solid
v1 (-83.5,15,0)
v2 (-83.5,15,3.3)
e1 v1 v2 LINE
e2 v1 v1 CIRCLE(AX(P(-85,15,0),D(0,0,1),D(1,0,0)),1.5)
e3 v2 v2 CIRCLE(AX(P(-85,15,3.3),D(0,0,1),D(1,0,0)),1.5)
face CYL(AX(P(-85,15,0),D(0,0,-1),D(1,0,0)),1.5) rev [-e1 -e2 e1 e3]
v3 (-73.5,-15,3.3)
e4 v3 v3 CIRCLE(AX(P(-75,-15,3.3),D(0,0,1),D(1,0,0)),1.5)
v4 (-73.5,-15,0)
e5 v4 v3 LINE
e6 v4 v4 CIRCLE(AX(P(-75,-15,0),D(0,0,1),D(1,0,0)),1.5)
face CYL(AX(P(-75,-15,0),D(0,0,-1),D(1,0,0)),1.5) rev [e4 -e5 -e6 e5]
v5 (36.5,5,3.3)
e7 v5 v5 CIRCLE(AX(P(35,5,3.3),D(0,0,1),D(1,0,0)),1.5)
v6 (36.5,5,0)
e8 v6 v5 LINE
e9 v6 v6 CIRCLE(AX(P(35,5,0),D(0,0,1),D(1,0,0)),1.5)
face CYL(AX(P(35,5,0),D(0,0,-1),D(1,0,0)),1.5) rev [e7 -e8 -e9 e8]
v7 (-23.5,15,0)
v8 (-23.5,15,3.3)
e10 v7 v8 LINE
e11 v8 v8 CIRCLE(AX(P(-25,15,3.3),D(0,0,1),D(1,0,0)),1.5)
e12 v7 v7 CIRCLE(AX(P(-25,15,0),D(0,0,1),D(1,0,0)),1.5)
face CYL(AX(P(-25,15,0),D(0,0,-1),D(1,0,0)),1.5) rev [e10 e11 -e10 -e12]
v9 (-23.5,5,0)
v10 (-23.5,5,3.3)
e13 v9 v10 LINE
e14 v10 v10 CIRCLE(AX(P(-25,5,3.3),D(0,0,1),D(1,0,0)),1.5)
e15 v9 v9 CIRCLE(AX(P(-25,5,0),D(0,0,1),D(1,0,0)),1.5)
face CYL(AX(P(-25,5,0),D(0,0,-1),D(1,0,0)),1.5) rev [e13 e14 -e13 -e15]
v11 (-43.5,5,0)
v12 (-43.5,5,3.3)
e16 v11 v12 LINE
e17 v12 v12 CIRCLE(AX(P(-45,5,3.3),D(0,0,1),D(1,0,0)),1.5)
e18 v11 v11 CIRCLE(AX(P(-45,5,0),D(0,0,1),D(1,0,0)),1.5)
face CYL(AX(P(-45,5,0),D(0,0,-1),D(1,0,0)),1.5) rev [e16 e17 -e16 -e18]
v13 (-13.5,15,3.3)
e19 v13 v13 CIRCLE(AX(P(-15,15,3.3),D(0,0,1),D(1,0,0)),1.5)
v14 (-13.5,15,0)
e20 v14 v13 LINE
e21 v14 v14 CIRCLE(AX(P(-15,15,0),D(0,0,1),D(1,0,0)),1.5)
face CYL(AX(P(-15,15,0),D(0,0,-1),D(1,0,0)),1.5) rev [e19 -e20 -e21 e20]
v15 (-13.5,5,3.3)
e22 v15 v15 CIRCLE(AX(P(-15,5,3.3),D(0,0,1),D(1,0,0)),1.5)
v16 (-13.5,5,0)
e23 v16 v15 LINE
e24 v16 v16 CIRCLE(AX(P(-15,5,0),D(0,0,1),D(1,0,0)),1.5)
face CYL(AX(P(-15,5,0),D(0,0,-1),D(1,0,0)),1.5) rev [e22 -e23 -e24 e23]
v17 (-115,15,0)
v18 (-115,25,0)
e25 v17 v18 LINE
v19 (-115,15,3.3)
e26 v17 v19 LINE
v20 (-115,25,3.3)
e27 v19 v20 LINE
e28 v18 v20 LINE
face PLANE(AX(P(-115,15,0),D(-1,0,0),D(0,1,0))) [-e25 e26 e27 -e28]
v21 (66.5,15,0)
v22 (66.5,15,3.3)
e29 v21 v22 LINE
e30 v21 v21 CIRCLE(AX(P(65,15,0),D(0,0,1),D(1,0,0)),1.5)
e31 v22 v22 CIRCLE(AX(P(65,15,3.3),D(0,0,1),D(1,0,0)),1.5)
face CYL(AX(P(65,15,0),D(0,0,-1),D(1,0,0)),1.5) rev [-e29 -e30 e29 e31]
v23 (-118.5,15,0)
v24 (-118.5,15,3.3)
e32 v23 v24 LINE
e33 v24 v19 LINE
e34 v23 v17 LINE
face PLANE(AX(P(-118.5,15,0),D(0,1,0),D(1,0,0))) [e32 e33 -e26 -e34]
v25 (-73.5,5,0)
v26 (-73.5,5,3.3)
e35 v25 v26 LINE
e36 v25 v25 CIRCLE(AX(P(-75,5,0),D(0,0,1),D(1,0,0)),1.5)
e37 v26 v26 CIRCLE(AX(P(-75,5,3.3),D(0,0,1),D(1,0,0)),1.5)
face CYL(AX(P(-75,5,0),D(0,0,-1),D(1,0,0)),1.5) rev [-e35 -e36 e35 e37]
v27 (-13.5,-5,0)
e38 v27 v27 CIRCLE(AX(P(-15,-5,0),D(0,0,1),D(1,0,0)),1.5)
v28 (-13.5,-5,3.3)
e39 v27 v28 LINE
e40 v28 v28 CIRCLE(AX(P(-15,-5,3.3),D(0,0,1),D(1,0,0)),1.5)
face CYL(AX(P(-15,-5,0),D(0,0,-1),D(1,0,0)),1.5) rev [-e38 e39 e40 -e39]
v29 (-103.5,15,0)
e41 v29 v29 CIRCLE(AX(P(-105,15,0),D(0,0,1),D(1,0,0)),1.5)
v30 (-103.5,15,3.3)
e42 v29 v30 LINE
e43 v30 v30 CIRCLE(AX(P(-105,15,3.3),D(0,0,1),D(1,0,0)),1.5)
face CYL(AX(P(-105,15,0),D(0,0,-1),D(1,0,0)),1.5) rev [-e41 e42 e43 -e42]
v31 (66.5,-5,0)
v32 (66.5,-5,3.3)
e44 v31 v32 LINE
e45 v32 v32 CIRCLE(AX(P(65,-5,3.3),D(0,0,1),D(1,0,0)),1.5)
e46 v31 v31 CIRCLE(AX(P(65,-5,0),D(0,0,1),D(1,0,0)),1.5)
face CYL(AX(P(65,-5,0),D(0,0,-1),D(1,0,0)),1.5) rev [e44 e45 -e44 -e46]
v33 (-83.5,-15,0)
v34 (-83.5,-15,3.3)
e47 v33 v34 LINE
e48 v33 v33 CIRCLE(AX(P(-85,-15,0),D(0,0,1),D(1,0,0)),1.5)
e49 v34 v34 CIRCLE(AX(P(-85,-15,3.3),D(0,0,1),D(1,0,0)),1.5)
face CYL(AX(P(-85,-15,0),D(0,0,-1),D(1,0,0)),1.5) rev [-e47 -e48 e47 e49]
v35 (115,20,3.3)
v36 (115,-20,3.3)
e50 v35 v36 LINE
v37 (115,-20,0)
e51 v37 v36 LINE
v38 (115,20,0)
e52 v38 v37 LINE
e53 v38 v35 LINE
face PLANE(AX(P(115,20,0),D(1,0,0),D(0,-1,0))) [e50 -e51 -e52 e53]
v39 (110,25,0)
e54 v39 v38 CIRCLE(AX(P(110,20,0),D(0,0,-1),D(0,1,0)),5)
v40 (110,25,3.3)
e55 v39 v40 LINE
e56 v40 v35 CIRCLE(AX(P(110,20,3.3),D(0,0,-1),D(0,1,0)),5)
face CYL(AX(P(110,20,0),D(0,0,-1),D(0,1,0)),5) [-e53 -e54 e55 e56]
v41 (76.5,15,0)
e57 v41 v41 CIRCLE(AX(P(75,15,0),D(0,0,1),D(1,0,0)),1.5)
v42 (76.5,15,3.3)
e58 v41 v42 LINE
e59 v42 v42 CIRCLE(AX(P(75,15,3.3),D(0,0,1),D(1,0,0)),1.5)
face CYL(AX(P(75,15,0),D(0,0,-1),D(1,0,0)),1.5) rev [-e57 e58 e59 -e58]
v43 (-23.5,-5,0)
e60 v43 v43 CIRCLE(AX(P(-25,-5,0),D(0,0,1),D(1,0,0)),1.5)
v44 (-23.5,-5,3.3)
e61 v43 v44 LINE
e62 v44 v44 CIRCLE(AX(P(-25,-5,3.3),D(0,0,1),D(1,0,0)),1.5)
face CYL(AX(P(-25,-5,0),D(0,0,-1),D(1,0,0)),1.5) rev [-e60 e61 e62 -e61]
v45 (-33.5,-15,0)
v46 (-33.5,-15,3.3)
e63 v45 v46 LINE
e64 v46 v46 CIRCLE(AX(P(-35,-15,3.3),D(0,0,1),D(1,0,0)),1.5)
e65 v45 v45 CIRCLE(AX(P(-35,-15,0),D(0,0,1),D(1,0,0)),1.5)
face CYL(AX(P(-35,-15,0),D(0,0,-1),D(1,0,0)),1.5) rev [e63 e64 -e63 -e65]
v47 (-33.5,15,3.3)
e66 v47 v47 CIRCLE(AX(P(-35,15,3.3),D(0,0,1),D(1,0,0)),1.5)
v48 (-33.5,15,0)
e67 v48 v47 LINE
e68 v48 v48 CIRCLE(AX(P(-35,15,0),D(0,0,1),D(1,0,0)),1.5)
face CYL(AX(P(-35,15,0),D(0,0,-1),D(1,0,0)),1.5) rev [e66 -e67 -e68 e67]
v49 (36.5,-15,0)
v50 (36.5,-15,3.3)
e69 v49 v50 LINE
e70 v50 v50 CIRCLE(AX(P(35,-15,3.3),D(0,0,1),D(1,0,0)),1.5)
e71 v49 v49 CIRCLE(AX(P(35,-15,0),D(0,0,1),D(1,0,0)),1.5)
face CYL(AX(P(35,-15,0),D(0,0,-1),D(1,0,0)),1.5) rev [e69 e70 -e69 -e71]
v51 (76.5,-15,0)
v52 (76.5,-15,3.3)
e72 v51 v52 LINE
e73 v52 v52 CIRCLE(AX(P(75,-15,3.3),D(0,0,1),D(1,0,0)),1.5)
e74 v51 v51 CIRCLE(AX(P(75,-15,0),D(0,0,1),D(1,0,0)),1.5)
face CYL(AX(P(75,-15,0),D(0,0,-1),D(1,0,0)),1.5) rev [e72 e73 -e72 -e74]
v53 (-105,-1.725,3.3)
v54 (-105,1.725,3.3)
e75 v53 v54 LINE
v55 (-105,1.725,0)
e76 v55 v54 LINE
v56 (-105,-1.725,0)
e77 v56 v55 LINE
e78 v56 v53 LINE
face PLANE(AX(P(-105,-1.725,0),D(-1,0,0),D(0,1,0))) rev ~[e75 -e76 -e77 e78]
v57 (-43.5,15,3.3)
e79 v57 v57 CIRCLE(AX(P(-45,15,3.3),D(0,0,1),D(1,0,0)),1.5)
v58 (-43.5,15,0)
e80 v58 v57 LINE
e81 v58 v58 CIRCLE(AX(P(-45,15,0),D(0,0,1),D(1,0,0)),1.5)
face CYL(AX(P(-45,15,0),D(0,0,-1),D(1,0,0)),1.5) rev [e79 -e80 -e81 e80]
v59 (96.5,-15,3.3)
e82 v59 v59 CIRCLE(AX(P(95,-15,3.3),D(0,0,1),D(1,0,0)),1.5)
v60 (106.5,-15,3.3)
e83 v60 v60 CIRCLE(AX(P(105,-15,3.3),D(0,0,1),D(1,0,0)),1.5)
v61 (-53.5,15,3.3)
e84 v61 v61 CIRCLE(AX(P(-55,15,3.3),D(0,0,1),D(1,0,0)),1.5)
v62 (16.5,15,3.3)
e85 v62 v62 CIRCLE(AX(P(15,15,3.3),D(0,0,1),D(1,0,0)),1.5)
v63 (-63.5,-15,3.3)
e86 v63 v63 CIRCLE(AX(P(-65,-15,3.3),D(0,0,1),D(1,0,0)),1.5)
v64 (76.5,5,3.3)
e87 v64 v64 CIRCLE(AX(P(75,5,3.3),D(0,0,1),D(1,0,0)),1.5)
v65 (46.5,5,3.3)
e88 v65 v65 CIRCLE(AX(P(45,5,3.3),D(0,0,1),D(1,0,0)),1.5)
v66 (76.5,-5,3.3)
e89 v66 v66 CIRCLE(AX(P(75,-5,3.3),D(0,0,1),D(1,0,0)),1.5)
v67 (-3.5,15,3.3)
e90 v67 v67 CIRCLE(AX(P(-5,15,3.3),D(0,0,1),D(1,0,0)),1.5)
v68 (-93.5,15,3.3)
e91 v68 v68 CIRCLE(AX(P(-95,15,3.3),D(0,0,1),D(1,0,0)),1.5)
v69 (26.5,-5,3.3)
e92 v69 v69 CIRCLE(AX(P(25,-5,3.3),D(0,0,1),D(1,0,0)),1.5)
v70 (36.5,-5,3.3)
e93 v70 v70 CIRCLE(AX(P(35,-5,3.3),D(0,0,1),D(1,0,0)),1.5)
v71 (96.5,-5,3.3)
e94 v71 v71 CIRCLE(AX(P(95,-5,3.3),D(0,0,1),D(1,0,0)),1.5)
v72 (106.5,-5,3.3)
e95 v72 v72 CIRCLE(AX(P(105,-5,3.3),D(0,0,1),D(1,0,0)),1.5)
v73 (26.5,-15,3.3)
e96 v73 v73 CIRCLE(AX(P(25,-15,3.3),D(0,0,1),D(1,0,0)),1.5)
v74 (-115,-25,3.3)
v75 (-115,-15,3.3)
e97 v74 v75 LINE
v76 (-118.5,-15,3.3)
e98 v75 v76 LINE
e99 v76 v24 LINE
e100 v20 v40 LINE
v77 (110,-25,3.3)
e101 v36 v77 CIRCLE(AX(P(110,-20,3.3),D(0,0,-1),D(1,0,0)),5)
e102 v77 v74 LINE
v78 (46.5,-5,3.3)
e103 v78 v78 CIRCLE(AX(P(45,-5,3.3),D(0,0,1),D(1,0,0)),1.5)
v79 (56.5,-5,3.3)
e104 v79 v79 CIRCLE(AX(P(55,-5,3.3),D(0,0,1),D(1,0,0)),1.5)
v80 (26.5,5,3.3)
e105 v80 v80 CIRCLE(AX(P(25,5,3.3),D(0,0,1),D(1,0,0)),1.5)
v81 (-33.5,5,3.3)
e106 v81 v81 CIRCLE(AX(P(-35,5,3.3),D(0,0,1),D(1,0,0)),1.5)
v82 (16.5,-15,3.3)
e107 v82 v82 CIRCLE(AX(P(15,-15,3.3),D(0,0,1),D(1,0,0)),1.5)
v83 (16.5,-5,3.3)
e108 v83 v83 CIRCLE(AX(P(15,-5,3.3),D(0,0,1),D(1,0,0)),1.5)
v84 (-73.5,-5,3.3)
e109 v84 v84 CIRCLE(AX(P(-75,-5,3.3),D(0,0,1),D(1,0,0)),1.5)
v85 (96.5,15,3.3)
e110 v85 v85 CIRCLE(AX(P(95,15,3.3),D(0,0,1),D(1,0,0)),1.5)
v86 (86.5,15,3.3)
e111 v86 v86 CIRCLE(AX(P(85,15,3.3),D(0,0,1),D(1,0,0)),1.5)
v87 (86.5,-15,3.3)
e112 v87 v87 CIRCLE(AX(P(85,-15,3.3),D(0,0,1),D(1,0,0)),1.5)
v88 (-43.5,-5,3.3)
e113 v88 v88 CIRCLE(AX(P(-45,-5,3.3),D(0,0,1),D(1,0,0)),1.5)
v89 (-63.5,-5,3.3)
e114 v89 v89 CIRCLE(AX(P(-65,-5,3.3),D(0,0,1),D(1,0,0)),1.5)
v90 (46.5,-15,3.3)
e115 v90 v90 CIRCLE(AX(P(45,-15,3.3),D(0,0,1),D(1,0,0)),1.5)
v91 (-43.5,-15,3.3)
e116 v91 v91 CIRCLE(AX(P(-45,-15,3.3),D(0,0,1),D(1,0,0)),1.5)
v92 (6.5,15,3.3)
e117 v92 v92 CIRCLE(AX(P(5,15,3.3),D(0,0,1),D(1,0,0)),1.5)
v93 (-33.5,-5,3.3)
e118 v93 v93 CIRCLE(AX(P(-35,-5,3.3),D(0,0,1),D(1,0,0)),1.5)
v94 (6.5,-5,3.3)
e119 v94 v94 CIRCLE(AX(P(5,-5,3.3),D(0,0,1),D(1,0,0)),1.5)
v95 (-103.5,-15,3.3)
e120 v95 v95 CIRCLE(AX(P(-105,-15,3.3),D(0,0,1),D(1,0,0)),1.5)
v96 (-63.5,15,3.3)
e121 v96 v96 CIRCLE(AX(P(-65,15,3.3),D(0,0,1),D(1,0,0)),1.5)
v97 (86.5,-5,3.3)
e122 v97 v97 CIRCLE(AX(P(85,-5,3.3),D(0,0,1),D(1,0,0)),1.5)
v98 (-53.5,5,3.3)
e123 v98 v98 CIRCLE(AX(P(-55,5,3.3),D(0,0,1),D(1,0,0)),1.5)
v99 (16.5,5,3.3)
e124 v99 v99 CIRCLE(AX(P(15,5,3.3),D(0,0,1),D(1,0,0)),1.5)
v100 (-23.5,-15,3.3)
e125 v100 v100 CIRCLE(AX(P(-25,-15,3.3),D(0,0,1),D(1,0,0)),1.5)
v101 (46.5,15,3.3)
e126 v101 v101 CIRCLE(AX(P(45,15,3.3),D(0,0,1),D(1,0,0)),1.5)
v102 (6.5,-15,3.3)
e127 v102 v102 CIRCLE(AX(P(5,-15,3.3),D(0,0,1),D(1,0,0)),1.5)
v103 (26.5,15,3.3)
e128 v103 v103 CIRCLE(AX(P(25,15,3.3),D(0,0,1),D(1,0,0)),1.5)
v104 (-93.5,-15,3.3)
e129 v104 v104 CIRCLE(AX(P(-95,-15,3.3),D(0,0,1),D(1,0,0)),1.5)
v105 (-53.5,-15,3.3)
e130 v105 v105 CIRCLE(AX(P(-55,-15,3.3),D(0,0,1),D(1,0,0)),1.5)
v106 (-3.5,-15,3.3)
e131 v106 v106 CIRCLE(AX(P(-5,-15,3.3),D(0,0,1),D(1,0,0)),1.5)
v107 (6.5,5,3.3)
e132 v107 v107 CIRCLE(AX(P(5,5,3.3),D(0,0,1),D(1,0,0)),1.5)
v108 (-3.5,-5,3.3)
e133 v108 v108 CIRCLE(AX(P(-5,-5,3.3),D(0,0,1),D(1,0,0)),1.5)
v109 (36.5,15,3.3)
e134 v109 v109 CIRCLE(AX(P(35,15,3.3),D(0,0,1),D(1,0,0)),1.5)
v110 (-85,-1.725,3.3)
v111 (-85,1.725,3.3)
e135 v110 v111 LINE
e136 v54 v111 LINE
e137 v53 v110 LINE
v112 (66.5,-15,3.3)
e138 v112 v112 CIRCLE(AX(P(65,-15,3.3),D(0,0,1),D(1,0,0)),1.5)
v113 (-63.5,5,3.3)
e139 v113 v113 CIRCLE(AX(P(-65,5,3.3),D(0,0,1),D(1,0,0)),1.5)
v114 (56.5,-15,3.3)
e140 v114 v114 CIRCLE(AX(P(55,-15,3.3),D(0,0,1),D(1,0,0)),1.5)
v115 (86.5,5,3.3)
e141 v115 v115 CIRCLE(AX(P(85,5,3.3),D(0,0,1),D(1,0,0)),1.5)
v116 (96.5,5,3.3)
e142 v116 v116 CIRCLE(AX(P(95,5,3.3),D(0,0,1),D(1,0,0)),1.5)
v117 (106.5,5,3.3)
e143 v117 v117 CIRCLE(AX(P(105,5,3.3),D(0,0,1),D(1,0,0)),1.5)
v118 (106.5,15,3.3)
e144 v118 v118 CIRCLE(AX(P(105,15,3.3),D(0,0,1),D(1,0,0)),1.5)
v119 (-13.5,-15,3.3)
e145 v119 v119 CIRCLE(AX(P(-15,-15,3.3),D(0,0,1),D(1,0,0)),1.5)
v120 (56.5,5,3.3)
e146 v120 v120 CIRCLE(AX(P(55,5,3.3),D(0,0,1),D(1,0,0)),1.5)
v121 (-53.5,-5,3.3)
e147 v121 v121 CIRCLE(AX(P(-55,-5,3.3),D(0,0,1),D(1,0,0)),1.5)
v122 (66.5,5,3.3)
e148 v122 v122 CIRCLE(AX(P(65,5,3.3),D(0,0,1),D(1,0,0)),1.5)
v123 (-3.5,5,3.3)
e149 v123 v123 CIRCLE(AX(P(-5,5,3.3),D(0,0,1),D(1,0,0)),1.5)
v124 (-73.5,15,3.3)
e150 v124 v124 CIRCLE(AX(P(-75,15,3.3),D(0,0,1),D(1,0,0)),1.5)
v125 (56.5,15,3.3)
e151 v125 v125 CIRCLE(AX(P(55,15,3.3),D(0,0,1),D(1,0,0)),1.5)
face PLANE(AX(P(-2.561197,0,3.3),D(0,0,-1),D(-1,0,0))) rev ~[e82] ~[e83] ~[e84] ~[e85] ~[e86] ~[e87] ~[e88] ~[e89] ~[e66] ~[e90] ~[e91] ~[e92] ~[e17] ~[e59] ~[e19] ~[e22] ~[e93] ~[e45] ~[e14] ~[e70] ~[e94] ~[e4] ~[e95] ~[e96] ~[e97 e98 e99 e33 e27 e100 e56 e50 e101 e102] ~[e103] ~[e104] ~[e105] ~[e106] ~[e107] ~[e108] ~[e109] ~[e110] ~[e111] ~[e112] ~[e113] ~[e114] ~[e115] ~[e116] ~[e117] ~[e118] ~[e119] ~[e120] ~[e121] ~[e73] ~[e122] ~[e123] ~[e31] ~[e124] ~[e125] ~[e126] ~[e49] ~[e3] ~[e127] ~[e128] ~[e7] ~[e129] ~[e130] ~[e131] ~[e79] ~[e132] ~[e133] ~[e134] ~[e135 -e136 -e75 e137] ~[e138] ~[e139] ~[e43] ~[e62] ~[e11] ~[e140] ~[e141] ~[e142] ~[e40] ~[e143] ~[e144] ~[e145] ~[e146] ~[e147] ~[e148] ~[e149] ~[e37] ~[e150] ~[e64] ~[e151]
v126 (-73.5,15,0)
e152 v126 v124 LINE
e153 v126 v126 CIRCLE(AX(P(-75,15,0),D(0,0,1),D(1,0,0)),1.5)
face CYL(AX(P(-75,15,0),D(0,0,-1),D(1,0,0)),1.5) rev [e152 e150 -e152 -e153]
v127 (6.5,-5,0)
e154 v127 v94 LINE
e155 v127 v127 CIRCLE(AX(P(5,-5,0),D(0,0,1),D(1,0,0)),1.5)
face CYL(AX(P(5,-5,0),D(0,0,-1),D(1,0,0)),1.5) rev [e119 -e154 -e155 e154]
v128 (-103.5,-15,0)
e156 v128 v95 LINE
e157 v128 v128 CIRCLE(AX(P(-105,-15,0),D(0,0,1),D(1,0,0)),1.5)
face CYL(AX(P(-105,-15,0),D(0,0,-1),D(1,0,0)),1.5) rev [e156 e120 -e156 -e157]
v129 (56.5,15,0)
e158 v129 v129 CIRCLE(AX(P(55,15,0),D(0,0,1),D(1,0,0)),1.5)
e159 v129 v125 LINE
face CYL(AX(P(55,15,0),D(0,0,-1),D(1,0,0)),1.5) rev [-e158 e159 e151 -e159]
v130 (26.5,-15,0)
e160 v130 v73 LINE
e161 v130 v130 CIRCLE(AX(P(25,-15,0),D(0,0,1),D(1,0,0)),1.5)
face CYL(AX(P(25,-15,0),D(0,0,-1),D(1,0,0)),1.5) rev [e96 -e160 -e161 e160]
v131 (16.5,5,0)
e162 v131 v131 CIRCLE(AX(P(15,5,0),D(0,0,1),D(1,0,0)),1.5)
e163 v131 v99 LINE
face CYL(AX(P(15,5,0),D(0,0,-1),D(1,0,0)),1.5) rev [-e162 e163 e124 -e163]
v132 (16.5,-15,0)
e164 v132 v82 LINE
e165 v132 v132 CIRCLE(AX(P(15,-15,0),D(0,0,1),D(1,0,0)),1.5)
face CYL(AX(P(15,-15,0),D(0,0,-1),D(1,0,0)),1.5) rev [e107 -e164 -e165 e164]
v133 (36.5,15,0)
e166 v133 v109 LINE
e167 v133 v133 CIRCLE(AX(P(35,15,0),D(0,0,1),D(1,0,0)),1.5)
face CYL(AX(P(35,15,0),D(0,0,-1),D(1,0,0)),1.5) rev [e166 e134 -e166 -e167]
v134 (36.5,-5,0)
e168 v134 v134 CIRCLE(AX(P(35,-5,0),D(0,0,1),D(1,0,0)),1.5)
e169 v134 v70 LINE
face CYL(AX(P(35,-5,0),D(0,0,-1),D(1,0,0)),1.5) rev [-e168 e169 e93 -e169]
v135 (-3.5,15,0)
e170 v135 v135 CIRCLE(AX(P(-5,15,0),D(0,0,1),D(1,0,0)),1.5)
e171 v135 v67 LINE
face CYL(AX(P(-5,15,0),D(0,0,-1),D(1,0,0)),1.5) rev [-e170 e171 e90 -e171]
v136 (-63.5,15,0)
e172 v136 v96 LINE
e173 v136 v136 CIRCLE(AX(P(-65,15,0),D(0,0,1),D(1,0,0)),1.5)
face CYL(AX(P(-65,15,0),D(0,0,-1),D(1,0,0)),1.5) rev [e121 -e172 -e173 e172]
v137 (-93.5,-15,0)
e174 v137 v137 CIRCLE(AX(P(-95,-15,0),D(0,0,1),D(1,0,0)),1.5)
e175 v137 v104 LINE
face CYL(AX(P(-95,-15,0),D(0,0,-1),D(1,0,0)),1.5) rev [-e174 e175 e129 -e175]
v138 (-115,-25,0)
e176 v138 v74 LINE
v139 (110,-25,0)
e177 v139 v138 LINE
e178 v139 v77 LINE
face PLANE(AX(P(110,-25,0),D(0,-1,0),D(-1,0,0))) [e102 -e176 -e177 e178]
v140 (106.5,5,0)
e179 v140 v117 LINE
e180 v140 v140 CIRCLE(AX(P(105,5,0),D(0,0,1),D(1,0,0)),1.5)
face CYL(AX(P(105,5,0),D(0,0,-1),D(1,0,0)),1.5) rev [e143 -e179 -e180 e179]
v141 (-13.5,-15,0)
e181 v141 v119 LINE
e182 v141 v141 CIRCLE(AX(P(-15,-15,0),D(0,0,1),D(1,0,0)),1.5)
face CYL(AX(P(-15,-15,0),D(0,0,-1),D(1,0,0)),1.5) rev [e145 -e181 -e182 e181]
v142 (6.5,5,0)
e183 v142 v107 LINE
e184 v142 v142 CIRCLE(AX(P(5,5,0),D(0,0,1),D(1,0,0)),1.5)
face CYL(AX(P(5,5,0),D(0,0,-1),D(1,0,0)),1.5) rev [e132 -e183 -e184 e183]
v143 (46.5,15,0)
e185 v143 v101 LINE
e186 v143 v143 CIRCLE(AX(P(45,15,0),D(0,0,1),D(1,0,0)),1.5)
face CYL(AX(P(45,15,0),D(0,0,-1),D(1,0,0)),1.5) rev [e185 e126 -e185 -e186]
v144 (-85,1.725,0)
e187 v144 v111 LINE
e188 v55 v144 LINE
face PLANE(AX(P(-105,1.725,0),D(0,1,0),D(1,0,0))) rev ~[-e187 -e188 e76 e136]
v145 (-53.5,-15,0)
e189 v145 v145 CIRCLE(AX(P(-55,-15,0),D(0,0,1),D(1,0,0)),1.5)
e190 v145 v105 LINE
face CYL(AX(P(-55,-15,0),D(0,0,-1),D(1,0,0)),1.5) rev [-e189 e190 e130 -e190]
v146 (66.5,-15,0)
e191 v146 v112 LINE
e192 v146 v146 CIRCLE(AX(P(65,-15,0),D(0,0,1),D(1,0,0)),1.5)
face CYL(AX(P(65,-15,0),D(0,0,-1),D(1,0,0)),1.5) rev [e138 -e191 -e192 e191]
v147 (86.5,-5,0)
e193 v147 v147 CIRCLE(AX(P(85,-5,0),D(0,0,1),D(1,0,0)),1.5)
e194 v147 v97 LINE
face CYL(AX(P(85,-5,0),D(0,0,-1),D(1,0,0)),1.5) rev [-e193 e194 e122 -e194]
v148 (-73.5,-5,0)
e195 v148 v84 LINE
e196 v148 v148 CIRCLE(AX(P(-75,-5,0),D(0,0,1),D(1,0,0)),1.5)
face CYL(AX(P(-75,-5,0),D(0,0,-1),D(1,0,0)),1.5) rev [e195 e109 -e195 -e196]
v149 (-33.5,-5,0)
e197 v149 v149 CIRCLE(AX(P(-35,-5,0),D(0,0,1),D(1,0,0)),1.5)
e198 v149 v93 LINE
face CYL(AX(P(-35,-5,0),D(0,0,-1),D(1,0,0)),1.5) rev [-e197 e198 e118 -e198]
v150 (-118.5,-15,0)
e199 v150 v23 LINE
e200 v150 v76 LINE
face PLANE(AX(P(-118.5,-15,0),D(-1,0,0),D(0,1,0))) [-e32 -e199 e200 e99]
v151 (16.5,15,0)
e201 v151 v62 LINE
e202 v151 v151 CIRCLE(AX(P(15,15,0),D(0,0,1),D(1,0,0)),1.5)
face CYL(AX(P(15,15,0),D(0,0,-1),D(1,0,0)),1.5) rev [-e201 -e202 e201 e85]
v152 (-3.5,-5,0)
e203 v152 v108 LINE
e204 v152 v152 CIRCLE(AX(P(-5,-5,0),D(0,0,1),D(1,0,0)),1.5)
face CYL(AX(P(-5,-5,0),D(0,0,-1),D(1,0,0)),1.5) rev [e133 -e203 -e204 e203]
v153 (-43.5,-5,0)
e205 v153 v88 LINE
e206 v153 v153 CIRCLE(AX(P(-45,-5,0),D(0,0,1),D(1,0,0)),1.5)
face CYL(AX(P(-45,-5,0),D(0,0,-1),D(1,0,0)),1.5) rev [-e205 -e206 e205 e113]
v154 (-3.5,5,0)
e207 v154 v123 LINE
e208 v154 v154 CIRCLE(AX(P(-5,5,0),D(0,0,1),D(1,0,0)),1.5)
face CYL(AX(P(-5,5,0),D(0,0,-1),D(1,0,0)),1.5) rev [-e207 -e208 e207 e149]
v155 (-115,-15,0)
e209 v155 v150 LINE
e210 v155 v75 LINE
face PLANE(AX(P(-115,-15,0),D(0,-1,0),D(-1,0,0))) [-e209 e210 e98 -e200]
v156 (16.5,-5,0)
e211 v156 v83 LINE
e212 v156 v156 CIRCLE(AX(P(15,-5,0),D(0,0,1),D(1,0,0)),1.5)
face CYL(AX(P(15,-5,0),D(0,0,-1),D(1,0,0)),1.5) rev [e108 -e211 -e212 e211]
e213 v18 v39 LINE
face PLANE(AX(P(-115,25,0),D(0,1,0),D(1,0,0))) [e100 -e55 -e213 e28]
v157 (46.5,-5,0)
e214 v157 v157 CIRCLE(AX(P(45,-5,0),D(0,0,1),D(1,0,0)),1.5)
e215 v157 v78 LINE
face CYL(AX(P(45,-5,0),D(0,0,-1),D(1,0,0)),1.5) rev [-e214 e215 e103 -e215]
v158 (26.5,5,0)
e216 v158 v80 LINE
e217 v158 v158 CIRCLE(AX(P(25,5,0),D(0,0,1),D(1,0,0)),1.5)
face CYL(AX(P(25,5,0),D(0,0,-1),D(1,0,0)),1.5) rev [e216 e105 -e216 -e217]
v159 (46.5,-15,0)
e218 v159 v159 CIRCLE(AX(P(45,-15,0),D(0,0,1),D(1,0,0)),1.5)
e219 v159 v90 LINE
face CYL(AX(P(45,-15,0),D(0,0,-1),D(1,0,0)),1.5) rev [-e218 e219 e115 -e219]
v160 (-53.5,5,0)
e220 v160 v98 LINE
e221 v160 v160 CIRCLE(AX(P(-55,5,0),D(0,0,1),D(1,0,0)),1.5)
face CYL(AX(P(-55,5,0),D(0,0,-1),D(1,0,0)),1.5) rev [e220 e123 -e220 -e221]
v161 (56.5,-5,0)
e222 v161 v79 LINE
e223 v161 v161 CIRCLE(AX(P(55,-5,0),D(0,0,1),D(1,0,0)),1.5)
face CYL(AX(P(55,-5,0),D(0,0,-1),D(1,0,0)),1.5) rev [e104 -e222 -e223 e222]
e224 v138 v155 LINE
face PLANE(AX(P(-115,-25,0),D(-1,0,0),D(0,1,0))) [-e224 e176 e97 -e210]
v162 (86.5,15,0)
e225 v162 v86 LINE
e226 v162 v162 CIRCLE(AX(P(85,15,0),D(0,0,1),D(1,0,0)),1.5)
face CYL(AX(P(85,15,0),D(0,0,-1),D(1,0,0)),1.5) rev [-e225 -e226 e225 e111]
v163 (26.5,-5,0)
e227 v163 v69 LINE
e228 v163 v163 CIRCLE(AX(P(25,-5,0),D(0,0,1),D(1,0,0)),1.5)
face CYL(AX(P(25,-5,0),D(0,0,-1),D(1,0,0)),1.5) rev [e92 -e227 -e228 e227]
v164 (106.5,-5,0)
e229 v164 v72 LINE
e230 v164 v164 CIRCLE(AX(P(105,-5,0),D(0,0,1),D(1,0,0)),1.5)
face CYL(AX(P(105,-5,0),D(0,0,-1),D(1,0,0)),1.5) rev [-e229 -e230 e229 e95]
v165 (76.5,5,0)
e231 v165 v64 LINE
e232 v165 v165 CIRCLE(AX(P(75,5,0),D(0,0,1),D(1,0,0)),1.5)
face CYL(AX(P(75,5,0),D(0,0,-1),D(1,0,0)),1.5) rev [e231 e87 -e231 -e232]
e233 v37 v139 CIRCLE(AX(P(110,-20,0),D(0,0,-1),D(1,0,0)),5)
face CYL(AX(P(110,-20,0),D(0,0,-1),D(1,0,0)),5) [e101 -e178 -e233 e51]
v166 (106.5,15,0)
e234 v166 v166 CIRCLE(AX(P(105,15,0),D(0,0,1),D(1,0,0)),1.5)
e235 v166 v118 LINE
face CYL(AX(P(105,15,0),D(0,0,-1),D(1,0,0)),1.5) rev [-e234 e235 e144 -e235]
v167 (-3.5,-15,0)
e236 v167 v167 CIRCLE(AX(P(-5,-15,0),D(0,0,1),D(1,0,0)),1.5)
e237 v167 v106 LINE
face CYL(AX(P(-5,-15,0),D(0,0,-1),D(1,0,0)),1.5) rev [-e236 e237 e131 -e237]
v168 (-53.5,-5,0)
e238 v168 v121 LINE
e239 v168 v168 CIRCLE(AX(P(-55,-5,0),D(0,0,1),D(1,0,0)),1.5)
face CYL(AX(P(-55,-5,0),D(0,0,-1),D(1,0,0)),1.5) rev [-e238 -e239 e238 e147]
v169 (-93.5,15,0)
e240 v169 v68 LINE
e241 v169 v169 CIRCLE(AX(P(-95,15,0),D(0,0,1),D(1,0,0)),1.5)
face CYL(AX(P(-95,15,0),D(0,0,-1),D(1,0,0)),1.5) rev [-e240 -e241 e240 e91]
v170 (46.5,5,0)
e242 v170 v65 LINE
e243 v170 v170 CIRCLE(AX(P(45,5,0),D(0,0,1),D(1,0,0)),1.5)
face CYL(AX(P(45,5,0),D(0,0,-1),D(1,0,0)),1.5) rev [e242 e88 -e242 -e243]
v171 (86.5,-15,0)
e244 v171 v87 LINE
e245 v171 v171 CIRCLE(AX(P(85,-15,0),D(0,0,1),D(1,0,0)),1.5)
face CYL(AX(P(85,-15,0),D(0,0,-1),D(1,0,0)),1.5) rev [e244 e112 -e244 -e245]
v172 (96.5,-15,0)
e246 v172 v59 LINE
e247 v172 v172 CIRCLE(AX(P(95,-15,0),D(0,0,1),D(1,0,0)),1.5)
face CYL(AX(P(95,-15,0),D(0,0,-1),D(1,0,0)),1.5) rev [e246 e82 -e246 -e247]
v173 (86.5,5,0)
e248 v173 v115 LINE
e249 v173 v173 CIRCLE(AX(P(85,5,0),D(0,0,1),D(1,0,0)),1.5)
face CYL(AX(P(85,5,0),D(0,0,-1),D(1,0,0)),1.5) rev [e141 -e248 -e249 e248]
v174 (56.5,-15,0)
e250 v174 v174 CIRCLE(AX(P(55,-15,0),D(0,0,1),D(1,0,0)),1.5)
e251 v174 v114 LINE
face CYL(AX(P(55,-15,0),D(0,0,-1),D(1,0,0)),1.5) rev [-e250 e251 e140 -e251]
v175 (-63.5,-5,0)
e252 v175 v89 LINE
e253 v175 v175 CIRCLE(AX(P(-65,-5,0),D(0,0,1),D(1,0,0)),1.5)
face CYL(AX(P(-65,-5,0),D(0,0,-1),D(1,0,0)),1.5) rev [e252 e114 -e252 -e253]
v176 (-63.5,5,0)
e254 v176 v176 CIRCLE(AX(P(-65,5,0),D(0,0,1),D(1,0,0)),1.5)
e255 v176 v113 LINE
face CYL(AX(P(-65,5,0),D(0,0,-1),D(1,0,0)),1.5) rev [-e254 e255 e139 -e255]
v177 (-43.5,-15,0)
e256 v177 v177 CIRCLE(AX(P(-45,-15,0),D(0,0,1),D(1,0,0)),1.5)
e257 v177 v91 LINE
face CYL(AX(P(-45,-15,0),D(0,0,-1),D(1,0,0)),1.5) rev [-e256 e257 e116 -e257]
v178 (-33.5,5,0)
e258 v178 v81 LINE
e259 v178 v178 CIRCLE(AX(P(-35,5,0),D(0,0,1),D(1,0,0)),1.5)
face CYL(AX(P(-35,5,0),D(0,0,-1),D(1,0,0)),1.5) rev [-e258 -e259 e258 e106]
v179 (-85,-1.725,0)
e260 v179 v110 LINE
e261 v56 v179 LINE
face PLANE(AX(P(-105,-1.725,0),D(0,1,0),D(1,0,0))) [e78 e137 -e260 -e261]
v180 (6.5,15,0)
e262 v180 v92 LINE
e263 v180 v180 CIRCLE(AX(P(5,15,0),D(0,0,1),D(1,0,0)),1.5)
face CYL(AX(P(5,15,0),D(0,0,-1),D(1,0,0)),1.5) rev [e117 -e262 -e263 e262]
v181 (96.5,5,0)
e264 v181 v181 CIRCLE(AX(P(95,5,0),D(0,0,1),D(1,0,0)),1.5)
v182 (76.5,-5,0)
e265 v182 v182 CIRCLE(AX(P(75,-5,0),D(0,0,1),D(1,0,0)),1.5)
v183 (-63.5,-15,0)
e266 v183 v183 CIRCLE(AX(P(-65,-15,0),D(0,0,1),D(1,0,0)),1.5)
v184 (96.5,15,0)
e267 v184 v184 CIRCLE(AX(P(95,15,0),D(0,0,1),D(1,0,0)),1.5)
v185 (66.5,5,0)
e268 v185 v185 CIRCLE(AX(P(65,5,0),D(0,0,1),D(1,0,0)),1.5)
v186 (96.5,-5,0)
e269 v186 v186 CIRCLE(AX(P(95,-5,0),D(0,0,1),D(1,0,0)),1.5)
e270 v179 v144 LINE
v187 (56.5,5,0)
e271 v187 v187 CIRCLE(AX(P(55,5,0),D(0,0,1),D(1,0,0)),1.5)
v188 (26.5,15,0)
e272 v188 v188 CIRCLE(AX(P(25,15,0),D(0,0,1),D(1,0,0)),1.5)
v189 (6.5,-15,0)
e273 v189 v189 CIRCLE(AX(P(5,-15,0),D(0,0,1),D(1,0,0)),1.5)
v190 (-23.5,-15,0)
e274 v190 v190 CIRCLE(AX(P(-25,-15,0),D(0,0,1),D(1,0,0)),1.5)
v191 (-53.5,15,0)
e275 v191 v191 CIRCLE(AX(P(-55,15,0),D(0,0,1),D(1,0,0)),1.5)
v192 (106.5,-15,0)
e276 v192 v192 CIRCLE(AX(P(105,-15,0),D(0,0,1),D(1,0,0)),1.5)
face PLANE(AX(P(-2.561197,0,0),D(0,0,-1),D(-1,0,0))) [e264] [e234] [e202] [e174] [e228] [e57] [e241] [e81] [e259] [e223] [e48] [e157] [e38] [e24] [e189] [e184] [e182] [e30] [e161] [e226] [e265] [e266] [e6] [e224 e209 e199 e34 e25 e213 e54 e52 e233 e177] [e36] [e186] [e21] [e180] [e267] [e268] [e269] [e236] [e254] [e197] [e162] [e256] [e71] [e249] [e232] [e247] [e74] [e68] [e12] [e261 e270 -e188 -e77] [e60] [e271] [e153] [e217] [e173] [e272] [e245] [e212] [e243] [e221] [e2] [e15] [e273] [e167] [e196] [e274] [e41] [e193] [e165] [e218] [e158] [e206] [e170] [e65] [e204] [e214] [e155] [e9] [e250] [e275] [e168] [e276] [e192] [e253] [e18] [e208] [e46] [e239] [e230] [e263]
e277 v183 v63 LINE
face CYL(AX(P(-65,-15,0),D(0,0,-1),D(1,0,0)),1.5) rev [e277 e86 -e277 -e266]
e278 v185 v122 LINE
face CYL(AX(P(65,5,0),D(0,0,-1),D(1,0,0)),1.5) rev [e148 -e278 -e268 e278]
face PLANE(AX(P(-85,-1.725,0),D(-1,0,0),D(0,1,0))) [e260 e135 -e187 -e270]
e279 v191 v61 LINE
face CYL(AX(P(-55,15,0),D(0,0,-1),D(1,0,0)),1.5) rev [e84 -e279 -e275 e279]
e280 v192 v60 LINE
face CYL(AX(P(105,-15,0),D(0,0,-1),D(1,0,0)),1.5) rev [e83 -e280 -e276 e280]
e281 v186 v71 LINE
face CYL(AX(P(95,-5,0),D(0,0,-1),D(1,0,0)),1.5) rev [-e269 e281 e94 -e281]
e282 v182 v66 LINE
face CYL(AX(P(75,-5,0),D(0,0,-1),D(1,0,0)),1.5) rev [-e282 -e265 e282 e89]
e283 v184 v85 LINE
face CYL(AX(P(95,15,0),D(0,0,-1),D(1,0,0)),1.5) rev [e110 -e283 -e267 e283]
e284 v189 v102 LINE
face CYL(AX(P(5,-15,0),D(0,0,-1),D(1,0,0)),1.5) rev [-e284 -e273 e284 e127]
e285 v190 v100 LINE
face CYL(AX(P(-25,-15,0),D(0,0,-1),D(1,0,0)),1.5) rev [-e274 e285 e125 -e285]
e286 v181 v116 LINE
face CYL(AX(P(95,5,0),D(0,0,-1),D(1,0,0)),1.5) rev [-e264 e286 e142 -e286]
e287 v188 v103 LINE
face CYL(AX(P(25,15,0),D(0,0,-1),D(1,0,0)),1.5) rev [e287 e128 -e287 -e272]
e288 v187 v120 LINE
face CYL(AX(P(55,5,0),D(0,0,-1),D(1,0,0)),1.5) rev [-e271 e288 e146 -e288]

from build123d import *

# Parameters (mm, degrees)
SKETCH1_R           = 1.5
SKETCH1_W           = 20
SKETCH1_H           = 3.45
BOSS_EXTRUDE1_DEPTH = 3.3


with BuildPart() as part:
    # Sketch1 → Boss-Extrude1 (new body)
    with BuildSketch(Plane.XY):
        with BuildLine():
            Line((-115, 25), (110, 25))
            ThreePointArc((110, 25), (113.535533906, 23.535533906), (115, 20))
            Line((115, 20), (115, -20))
            ThreePointArc((115, -20), (113.535533906, -23.535533906), (110, -25))
            Line((110, -25), (-115, -25))
            Line((-115, -25), (-115, -15))
            Line((-115, -15), (-118.5, -15))
            Line((-118.5, -15), (-118.5, 15))
            Line((-118.5, 15), (-115, 15))
            Line((-115, 15), (-115, 25))
        make_face()
        with Locations((-105, -15)):
            Circle(SKETCH1_R, mode=Mode.SUBTRACT)
        with Locations((-95, -15)):
            Circle(SKETCH1_R, mode=Mode.SUBTRACT)
        with Locations((-85, -15)):
            Circle(SKETCH1_R, mode=Mode.SUBTRACT)
        with Locations((-75, -15)):
            Circle(SKETCH1_R, mode=Mode.SUBTRACT)
        with Locations((-65, -15)):
            Circle(SKETCH1_R, mode=Mode.SUBTRACT)
        with Locations((-55, -15)):
            Circle(SKETCH1_R, mode=Mode.SUBTRACT)
        with Locations((-45, -15)):
            Circle(SKETCH1_R, mode=Mode.SUBTRACT)
        with Locations((-35, -15)):
            Circle(SKETCH1_R, mode=Mode.SUBTRACT)
        with Locations((-25, -15)):
            Circle(SKETCH1_R, mode=Mode.SUBTRACT)
        with Locations((-15, -15)):
            Circle(SKETCH1_R, mode=Mode.SUBTRACT)
        with Locations((-5, -15)):
            Circle(SKETCH1_R, mode=Mode.SUBTRACT)
        with Locations((15, -15)):
            Circle(SKETCH1_R, mode=Mode.SUBTRACT)
        with Locations((25, -15)):
            Circle(SKETCH1_R, mode=Mode.SUBTRACT)
        with Locations((5, -15)):
            Circle(SKETCH1_R, mode=Mode.SUBTRACT)
        with Locations((35, -15)):
            Circle(SKETCH1_R, mode=Mode.SUBTRACT)
        with Locations((45, -15)):
            Circle(SKETCH1_R, mode=Mode.SUBTRACT)
        with Locations((55, -15)):
            Circle(SKETCH1_R, mode=Mode.SUBTRACT)
        with Locations((65, -15)):
            Circle(SKETCH1_R, mode=Mode.SUBTRACT)
        with Locations((75, -15)):
            Circle(SKETCH1_R, mode=Mode.SUBTRACT)
        with Locations((85, -15)):
            Circle(SKETCH1_R, mode=Mode.SUBTRACT)
        with Locations((95, -15)):
            Circle(SKETCH1_R, mode=Mode.SUBTRACT)
        with Locations((105, -15)):
            Circle(SKETCH1_R, mode=Mode.SUBTRACT)
        with Locations((-75, -5)):
            Circle(SKETCH1_R, mode=Mode.SUBTRACT)
        with Locations((-65, -5)):
            Circle(SKETCH1_R, mode=Mode.SUBTRACT)
        with Locations((-55, -5)):
            Circle(SKETCH1_R, mode=Mode.SUBTRACT)
        with Locations((-45, -5)):
            Circle(SKETCH1_R, mode=Mode.SUBTRACT)
        with Locations((-35, -5)):
            Circle(SKETCH1_R, mode=Mode.SUBTRACT)
        with Locations((-25, -5)):
            Circle(SKETCH1_R, mode=Mode.SUBTRACT)
        with Locations((-15, -5)):
            Circle(SKETCH1_R, mode=Mode.SUBTRACT)
        with Locations((-5, -5)):
            Circle(SKETCH1_R, mode=Mode.SUBTRACT)
        with Locations((15, -5)):
            Circle(SKETCH1_R, mode=Mode.SUBTRACT)
        with Locations((25, -5)):
            Circle(SKETCH1_R, mode=Mode.SUBTRACT)
        with Locations((5, -5)):
            Circle(SKETCH1_R, mode=Mode.SUBTRACT)
        with Locations((35, -5)):
            Circle(SKETCH1_R, mode=Mode.SUBTRACT)
        with Locations((45, -5)):
            Circle(SKETCH1_R, mode=Mode.SUBTRACT)
        with Locations((55, -5)):
            Circle(SKETCH1_R, mode=Mode.SUBTRACT)
        with Locations((65, -5)):
            Circle(SKETCH1_R, mode=Mode.SUBTRACT)
        with Locations((75, -5)):
            Circle(SKETCH1_R, mode=Mode.SUBTRACT)
        with Locations((85, -5)):
            Circle(SKETCH1_R, mode=Mode.SUBTRACT)
        with Locations((95, -5)):
            Circle(SKETCH1_R, mode=Mode.SUBTRACT)
        with Locations((105, -5)):
            Circle(SKETCH1_R, mode=Mode.SUBTRACT)
        with Locations((-75, 5)):
            Circle(SKETCH1_R, mode=Mode.SUBTRACT)
        with Locations((-65, 5)):
            Circle(SKETCH1_R, mode=Mode.SUBTRACT)
        with Locations((-55, 5)):
            Circle(SKETCH1_R, mode=Mode.SUBTRACT)
        with Locations((-45, 5)):
            Circle(SKETCH1_R, mode=Mode.SUBTRACT)
        with Locations((-35, 5)):
            Circle(SKETCH1_R, mode=Mode.SUBTRACT)
        with Locations((-25, 5)):
            Circle(SKETCH1_R, mode=Mode.SUBTRACT)
        with Locations((-15, 5)):
            Circle(SKETCH1_R, mode=Mode.SUBTRACT)
        with Locations((-5, 5)):
            Circle(SKETCH1_R, mode=Mode.SUBTRACT)
        with Locations((15, 5)):
            Circle(SKETCH1_R, mode=Mode.SUBTRACT)
        with Locations((25, 5)):
            Circle(SKETCH1_R, mode=Mode.SUBTRACT)
        with Locations((5, 5)):
            Circle(SKETCH1_R, mode=Mode.SUBTRACT)
        with Locations((35, 5)):
            Circle(SKETCH1_R, mode=Mode.SUBTRACT)
        with Locations((45, 5)):
            Circle(SKETCH1_R, mode=Mode.SUBTRACT)
        with Locations((55, 5)):
            Circle(SKETCH1_R, mode=Mode.SUBTRACT)
        with Locations((65, 5)):
            Circle(SKETCH1_R, mode=Mode.SUBTRACT)
        with Locations((75, 5)):
            Circle(SKETCH1_R, mode=Mode.SUBTRACT)
        with Locations((85, 5)):
            Circle(SKETCH1_R, mode=Mode.SUBTRACT)
        with Locations((95, 5)):
            Circle(SKETCH1_R, mode=Mode.SUBTRACT)
        with Locations((105, 5)):
            Circle(SKETCH1_R, mode=Mode.SUBTRACT)
        with Locations((-105, 15)):
            Circle(SKETCH1_R, mode=Mode.SUBTRACT)
        with Locations((-95, 15)):
            Circle(SKETCH1_R, mode=Mode.SUBTRACT)
        with Locations((-85, 15)):
            Circle(SKETCH1_R, mode=Mode.SUBTRACT)
        with Locations((-75, 15)):
            Circle(SKETCH1_R, mode=Mode.SUBTRACT)
        with Locations((-65, 15)):
            Circle(SKETCH1_R, mode=Mode.SUBTRACT)
        with Locations((-55, 15)):
            Circle(SKETCH1_R, mode=Mode.SUBTRACT)
        with Locations((-45, 15)):
            Circle(SKETCH1_R, mode=Mode.SUBTRACT)
        with Locations((-35, 15)):
            Circle(SKETCH1_R, mode=Mode.SUBTRACT)
        with Locations((-25, 15)):
            Circle(SKETCH1_R, mode=Mode.SUBTRACT)
        with Locations((-15, 15)):
            Circle(SKETCH1_R, mode=Mode.SUBTRACT)
        with Locations((-5, 15)):
            Circle(SKETCH1_R, mode=Mode.SUBTRACT)
        with Locations((15, 15)):
            Circle(SKETCH1_R, mode=Mode.SUBTRACT)
        with Locations((25, 15)):
            Circle(SKETCH1_R, mode=Mode.SUBTRACT)
        with Locations((5, 15)):
            Circle(SKETCH1_R, mode=Mode.SUBTRACT)
        with Locations((35, 15)):
            Circle(SKETCH1_R, mode=Mode.SUBTRACT)
        with Locations((45, 15)):
            Circle(SKETCH1_R, mode=Mode.SUBTRACT)
        with Locations((55, 15)):
            Circle(SKETCH1_R, mode=Mode.SUBTRACT)
        with Locations((65, 15)):
            Circle(SKETCH1_R, mode=Mode.SUBTRACT)
        with Locations((75, 15)):
            Circle(SKETCH1_R, mode=Mode.SUBTRACT)
        with Locations((85, 15)):
            Circle(SKETCH1_R, mode=Mode.SUBTRACT)
        with Locations((95, 15)):
            Circle(SKETCH1_R, mode=Mode.SUBTRACT)
        with Locations((105, 15)):
            Circle(SKETCH1_R, mode=Mode.SUBTRACT)
        with Locations((-95, 0)):
            Rectangle(SKETCH1_W, SKETCH1_H, mode=Mode.SUBTRACT)
    extrude(amount=BOSS_EXTRUDE1_DEPTH)


solid = part.part
